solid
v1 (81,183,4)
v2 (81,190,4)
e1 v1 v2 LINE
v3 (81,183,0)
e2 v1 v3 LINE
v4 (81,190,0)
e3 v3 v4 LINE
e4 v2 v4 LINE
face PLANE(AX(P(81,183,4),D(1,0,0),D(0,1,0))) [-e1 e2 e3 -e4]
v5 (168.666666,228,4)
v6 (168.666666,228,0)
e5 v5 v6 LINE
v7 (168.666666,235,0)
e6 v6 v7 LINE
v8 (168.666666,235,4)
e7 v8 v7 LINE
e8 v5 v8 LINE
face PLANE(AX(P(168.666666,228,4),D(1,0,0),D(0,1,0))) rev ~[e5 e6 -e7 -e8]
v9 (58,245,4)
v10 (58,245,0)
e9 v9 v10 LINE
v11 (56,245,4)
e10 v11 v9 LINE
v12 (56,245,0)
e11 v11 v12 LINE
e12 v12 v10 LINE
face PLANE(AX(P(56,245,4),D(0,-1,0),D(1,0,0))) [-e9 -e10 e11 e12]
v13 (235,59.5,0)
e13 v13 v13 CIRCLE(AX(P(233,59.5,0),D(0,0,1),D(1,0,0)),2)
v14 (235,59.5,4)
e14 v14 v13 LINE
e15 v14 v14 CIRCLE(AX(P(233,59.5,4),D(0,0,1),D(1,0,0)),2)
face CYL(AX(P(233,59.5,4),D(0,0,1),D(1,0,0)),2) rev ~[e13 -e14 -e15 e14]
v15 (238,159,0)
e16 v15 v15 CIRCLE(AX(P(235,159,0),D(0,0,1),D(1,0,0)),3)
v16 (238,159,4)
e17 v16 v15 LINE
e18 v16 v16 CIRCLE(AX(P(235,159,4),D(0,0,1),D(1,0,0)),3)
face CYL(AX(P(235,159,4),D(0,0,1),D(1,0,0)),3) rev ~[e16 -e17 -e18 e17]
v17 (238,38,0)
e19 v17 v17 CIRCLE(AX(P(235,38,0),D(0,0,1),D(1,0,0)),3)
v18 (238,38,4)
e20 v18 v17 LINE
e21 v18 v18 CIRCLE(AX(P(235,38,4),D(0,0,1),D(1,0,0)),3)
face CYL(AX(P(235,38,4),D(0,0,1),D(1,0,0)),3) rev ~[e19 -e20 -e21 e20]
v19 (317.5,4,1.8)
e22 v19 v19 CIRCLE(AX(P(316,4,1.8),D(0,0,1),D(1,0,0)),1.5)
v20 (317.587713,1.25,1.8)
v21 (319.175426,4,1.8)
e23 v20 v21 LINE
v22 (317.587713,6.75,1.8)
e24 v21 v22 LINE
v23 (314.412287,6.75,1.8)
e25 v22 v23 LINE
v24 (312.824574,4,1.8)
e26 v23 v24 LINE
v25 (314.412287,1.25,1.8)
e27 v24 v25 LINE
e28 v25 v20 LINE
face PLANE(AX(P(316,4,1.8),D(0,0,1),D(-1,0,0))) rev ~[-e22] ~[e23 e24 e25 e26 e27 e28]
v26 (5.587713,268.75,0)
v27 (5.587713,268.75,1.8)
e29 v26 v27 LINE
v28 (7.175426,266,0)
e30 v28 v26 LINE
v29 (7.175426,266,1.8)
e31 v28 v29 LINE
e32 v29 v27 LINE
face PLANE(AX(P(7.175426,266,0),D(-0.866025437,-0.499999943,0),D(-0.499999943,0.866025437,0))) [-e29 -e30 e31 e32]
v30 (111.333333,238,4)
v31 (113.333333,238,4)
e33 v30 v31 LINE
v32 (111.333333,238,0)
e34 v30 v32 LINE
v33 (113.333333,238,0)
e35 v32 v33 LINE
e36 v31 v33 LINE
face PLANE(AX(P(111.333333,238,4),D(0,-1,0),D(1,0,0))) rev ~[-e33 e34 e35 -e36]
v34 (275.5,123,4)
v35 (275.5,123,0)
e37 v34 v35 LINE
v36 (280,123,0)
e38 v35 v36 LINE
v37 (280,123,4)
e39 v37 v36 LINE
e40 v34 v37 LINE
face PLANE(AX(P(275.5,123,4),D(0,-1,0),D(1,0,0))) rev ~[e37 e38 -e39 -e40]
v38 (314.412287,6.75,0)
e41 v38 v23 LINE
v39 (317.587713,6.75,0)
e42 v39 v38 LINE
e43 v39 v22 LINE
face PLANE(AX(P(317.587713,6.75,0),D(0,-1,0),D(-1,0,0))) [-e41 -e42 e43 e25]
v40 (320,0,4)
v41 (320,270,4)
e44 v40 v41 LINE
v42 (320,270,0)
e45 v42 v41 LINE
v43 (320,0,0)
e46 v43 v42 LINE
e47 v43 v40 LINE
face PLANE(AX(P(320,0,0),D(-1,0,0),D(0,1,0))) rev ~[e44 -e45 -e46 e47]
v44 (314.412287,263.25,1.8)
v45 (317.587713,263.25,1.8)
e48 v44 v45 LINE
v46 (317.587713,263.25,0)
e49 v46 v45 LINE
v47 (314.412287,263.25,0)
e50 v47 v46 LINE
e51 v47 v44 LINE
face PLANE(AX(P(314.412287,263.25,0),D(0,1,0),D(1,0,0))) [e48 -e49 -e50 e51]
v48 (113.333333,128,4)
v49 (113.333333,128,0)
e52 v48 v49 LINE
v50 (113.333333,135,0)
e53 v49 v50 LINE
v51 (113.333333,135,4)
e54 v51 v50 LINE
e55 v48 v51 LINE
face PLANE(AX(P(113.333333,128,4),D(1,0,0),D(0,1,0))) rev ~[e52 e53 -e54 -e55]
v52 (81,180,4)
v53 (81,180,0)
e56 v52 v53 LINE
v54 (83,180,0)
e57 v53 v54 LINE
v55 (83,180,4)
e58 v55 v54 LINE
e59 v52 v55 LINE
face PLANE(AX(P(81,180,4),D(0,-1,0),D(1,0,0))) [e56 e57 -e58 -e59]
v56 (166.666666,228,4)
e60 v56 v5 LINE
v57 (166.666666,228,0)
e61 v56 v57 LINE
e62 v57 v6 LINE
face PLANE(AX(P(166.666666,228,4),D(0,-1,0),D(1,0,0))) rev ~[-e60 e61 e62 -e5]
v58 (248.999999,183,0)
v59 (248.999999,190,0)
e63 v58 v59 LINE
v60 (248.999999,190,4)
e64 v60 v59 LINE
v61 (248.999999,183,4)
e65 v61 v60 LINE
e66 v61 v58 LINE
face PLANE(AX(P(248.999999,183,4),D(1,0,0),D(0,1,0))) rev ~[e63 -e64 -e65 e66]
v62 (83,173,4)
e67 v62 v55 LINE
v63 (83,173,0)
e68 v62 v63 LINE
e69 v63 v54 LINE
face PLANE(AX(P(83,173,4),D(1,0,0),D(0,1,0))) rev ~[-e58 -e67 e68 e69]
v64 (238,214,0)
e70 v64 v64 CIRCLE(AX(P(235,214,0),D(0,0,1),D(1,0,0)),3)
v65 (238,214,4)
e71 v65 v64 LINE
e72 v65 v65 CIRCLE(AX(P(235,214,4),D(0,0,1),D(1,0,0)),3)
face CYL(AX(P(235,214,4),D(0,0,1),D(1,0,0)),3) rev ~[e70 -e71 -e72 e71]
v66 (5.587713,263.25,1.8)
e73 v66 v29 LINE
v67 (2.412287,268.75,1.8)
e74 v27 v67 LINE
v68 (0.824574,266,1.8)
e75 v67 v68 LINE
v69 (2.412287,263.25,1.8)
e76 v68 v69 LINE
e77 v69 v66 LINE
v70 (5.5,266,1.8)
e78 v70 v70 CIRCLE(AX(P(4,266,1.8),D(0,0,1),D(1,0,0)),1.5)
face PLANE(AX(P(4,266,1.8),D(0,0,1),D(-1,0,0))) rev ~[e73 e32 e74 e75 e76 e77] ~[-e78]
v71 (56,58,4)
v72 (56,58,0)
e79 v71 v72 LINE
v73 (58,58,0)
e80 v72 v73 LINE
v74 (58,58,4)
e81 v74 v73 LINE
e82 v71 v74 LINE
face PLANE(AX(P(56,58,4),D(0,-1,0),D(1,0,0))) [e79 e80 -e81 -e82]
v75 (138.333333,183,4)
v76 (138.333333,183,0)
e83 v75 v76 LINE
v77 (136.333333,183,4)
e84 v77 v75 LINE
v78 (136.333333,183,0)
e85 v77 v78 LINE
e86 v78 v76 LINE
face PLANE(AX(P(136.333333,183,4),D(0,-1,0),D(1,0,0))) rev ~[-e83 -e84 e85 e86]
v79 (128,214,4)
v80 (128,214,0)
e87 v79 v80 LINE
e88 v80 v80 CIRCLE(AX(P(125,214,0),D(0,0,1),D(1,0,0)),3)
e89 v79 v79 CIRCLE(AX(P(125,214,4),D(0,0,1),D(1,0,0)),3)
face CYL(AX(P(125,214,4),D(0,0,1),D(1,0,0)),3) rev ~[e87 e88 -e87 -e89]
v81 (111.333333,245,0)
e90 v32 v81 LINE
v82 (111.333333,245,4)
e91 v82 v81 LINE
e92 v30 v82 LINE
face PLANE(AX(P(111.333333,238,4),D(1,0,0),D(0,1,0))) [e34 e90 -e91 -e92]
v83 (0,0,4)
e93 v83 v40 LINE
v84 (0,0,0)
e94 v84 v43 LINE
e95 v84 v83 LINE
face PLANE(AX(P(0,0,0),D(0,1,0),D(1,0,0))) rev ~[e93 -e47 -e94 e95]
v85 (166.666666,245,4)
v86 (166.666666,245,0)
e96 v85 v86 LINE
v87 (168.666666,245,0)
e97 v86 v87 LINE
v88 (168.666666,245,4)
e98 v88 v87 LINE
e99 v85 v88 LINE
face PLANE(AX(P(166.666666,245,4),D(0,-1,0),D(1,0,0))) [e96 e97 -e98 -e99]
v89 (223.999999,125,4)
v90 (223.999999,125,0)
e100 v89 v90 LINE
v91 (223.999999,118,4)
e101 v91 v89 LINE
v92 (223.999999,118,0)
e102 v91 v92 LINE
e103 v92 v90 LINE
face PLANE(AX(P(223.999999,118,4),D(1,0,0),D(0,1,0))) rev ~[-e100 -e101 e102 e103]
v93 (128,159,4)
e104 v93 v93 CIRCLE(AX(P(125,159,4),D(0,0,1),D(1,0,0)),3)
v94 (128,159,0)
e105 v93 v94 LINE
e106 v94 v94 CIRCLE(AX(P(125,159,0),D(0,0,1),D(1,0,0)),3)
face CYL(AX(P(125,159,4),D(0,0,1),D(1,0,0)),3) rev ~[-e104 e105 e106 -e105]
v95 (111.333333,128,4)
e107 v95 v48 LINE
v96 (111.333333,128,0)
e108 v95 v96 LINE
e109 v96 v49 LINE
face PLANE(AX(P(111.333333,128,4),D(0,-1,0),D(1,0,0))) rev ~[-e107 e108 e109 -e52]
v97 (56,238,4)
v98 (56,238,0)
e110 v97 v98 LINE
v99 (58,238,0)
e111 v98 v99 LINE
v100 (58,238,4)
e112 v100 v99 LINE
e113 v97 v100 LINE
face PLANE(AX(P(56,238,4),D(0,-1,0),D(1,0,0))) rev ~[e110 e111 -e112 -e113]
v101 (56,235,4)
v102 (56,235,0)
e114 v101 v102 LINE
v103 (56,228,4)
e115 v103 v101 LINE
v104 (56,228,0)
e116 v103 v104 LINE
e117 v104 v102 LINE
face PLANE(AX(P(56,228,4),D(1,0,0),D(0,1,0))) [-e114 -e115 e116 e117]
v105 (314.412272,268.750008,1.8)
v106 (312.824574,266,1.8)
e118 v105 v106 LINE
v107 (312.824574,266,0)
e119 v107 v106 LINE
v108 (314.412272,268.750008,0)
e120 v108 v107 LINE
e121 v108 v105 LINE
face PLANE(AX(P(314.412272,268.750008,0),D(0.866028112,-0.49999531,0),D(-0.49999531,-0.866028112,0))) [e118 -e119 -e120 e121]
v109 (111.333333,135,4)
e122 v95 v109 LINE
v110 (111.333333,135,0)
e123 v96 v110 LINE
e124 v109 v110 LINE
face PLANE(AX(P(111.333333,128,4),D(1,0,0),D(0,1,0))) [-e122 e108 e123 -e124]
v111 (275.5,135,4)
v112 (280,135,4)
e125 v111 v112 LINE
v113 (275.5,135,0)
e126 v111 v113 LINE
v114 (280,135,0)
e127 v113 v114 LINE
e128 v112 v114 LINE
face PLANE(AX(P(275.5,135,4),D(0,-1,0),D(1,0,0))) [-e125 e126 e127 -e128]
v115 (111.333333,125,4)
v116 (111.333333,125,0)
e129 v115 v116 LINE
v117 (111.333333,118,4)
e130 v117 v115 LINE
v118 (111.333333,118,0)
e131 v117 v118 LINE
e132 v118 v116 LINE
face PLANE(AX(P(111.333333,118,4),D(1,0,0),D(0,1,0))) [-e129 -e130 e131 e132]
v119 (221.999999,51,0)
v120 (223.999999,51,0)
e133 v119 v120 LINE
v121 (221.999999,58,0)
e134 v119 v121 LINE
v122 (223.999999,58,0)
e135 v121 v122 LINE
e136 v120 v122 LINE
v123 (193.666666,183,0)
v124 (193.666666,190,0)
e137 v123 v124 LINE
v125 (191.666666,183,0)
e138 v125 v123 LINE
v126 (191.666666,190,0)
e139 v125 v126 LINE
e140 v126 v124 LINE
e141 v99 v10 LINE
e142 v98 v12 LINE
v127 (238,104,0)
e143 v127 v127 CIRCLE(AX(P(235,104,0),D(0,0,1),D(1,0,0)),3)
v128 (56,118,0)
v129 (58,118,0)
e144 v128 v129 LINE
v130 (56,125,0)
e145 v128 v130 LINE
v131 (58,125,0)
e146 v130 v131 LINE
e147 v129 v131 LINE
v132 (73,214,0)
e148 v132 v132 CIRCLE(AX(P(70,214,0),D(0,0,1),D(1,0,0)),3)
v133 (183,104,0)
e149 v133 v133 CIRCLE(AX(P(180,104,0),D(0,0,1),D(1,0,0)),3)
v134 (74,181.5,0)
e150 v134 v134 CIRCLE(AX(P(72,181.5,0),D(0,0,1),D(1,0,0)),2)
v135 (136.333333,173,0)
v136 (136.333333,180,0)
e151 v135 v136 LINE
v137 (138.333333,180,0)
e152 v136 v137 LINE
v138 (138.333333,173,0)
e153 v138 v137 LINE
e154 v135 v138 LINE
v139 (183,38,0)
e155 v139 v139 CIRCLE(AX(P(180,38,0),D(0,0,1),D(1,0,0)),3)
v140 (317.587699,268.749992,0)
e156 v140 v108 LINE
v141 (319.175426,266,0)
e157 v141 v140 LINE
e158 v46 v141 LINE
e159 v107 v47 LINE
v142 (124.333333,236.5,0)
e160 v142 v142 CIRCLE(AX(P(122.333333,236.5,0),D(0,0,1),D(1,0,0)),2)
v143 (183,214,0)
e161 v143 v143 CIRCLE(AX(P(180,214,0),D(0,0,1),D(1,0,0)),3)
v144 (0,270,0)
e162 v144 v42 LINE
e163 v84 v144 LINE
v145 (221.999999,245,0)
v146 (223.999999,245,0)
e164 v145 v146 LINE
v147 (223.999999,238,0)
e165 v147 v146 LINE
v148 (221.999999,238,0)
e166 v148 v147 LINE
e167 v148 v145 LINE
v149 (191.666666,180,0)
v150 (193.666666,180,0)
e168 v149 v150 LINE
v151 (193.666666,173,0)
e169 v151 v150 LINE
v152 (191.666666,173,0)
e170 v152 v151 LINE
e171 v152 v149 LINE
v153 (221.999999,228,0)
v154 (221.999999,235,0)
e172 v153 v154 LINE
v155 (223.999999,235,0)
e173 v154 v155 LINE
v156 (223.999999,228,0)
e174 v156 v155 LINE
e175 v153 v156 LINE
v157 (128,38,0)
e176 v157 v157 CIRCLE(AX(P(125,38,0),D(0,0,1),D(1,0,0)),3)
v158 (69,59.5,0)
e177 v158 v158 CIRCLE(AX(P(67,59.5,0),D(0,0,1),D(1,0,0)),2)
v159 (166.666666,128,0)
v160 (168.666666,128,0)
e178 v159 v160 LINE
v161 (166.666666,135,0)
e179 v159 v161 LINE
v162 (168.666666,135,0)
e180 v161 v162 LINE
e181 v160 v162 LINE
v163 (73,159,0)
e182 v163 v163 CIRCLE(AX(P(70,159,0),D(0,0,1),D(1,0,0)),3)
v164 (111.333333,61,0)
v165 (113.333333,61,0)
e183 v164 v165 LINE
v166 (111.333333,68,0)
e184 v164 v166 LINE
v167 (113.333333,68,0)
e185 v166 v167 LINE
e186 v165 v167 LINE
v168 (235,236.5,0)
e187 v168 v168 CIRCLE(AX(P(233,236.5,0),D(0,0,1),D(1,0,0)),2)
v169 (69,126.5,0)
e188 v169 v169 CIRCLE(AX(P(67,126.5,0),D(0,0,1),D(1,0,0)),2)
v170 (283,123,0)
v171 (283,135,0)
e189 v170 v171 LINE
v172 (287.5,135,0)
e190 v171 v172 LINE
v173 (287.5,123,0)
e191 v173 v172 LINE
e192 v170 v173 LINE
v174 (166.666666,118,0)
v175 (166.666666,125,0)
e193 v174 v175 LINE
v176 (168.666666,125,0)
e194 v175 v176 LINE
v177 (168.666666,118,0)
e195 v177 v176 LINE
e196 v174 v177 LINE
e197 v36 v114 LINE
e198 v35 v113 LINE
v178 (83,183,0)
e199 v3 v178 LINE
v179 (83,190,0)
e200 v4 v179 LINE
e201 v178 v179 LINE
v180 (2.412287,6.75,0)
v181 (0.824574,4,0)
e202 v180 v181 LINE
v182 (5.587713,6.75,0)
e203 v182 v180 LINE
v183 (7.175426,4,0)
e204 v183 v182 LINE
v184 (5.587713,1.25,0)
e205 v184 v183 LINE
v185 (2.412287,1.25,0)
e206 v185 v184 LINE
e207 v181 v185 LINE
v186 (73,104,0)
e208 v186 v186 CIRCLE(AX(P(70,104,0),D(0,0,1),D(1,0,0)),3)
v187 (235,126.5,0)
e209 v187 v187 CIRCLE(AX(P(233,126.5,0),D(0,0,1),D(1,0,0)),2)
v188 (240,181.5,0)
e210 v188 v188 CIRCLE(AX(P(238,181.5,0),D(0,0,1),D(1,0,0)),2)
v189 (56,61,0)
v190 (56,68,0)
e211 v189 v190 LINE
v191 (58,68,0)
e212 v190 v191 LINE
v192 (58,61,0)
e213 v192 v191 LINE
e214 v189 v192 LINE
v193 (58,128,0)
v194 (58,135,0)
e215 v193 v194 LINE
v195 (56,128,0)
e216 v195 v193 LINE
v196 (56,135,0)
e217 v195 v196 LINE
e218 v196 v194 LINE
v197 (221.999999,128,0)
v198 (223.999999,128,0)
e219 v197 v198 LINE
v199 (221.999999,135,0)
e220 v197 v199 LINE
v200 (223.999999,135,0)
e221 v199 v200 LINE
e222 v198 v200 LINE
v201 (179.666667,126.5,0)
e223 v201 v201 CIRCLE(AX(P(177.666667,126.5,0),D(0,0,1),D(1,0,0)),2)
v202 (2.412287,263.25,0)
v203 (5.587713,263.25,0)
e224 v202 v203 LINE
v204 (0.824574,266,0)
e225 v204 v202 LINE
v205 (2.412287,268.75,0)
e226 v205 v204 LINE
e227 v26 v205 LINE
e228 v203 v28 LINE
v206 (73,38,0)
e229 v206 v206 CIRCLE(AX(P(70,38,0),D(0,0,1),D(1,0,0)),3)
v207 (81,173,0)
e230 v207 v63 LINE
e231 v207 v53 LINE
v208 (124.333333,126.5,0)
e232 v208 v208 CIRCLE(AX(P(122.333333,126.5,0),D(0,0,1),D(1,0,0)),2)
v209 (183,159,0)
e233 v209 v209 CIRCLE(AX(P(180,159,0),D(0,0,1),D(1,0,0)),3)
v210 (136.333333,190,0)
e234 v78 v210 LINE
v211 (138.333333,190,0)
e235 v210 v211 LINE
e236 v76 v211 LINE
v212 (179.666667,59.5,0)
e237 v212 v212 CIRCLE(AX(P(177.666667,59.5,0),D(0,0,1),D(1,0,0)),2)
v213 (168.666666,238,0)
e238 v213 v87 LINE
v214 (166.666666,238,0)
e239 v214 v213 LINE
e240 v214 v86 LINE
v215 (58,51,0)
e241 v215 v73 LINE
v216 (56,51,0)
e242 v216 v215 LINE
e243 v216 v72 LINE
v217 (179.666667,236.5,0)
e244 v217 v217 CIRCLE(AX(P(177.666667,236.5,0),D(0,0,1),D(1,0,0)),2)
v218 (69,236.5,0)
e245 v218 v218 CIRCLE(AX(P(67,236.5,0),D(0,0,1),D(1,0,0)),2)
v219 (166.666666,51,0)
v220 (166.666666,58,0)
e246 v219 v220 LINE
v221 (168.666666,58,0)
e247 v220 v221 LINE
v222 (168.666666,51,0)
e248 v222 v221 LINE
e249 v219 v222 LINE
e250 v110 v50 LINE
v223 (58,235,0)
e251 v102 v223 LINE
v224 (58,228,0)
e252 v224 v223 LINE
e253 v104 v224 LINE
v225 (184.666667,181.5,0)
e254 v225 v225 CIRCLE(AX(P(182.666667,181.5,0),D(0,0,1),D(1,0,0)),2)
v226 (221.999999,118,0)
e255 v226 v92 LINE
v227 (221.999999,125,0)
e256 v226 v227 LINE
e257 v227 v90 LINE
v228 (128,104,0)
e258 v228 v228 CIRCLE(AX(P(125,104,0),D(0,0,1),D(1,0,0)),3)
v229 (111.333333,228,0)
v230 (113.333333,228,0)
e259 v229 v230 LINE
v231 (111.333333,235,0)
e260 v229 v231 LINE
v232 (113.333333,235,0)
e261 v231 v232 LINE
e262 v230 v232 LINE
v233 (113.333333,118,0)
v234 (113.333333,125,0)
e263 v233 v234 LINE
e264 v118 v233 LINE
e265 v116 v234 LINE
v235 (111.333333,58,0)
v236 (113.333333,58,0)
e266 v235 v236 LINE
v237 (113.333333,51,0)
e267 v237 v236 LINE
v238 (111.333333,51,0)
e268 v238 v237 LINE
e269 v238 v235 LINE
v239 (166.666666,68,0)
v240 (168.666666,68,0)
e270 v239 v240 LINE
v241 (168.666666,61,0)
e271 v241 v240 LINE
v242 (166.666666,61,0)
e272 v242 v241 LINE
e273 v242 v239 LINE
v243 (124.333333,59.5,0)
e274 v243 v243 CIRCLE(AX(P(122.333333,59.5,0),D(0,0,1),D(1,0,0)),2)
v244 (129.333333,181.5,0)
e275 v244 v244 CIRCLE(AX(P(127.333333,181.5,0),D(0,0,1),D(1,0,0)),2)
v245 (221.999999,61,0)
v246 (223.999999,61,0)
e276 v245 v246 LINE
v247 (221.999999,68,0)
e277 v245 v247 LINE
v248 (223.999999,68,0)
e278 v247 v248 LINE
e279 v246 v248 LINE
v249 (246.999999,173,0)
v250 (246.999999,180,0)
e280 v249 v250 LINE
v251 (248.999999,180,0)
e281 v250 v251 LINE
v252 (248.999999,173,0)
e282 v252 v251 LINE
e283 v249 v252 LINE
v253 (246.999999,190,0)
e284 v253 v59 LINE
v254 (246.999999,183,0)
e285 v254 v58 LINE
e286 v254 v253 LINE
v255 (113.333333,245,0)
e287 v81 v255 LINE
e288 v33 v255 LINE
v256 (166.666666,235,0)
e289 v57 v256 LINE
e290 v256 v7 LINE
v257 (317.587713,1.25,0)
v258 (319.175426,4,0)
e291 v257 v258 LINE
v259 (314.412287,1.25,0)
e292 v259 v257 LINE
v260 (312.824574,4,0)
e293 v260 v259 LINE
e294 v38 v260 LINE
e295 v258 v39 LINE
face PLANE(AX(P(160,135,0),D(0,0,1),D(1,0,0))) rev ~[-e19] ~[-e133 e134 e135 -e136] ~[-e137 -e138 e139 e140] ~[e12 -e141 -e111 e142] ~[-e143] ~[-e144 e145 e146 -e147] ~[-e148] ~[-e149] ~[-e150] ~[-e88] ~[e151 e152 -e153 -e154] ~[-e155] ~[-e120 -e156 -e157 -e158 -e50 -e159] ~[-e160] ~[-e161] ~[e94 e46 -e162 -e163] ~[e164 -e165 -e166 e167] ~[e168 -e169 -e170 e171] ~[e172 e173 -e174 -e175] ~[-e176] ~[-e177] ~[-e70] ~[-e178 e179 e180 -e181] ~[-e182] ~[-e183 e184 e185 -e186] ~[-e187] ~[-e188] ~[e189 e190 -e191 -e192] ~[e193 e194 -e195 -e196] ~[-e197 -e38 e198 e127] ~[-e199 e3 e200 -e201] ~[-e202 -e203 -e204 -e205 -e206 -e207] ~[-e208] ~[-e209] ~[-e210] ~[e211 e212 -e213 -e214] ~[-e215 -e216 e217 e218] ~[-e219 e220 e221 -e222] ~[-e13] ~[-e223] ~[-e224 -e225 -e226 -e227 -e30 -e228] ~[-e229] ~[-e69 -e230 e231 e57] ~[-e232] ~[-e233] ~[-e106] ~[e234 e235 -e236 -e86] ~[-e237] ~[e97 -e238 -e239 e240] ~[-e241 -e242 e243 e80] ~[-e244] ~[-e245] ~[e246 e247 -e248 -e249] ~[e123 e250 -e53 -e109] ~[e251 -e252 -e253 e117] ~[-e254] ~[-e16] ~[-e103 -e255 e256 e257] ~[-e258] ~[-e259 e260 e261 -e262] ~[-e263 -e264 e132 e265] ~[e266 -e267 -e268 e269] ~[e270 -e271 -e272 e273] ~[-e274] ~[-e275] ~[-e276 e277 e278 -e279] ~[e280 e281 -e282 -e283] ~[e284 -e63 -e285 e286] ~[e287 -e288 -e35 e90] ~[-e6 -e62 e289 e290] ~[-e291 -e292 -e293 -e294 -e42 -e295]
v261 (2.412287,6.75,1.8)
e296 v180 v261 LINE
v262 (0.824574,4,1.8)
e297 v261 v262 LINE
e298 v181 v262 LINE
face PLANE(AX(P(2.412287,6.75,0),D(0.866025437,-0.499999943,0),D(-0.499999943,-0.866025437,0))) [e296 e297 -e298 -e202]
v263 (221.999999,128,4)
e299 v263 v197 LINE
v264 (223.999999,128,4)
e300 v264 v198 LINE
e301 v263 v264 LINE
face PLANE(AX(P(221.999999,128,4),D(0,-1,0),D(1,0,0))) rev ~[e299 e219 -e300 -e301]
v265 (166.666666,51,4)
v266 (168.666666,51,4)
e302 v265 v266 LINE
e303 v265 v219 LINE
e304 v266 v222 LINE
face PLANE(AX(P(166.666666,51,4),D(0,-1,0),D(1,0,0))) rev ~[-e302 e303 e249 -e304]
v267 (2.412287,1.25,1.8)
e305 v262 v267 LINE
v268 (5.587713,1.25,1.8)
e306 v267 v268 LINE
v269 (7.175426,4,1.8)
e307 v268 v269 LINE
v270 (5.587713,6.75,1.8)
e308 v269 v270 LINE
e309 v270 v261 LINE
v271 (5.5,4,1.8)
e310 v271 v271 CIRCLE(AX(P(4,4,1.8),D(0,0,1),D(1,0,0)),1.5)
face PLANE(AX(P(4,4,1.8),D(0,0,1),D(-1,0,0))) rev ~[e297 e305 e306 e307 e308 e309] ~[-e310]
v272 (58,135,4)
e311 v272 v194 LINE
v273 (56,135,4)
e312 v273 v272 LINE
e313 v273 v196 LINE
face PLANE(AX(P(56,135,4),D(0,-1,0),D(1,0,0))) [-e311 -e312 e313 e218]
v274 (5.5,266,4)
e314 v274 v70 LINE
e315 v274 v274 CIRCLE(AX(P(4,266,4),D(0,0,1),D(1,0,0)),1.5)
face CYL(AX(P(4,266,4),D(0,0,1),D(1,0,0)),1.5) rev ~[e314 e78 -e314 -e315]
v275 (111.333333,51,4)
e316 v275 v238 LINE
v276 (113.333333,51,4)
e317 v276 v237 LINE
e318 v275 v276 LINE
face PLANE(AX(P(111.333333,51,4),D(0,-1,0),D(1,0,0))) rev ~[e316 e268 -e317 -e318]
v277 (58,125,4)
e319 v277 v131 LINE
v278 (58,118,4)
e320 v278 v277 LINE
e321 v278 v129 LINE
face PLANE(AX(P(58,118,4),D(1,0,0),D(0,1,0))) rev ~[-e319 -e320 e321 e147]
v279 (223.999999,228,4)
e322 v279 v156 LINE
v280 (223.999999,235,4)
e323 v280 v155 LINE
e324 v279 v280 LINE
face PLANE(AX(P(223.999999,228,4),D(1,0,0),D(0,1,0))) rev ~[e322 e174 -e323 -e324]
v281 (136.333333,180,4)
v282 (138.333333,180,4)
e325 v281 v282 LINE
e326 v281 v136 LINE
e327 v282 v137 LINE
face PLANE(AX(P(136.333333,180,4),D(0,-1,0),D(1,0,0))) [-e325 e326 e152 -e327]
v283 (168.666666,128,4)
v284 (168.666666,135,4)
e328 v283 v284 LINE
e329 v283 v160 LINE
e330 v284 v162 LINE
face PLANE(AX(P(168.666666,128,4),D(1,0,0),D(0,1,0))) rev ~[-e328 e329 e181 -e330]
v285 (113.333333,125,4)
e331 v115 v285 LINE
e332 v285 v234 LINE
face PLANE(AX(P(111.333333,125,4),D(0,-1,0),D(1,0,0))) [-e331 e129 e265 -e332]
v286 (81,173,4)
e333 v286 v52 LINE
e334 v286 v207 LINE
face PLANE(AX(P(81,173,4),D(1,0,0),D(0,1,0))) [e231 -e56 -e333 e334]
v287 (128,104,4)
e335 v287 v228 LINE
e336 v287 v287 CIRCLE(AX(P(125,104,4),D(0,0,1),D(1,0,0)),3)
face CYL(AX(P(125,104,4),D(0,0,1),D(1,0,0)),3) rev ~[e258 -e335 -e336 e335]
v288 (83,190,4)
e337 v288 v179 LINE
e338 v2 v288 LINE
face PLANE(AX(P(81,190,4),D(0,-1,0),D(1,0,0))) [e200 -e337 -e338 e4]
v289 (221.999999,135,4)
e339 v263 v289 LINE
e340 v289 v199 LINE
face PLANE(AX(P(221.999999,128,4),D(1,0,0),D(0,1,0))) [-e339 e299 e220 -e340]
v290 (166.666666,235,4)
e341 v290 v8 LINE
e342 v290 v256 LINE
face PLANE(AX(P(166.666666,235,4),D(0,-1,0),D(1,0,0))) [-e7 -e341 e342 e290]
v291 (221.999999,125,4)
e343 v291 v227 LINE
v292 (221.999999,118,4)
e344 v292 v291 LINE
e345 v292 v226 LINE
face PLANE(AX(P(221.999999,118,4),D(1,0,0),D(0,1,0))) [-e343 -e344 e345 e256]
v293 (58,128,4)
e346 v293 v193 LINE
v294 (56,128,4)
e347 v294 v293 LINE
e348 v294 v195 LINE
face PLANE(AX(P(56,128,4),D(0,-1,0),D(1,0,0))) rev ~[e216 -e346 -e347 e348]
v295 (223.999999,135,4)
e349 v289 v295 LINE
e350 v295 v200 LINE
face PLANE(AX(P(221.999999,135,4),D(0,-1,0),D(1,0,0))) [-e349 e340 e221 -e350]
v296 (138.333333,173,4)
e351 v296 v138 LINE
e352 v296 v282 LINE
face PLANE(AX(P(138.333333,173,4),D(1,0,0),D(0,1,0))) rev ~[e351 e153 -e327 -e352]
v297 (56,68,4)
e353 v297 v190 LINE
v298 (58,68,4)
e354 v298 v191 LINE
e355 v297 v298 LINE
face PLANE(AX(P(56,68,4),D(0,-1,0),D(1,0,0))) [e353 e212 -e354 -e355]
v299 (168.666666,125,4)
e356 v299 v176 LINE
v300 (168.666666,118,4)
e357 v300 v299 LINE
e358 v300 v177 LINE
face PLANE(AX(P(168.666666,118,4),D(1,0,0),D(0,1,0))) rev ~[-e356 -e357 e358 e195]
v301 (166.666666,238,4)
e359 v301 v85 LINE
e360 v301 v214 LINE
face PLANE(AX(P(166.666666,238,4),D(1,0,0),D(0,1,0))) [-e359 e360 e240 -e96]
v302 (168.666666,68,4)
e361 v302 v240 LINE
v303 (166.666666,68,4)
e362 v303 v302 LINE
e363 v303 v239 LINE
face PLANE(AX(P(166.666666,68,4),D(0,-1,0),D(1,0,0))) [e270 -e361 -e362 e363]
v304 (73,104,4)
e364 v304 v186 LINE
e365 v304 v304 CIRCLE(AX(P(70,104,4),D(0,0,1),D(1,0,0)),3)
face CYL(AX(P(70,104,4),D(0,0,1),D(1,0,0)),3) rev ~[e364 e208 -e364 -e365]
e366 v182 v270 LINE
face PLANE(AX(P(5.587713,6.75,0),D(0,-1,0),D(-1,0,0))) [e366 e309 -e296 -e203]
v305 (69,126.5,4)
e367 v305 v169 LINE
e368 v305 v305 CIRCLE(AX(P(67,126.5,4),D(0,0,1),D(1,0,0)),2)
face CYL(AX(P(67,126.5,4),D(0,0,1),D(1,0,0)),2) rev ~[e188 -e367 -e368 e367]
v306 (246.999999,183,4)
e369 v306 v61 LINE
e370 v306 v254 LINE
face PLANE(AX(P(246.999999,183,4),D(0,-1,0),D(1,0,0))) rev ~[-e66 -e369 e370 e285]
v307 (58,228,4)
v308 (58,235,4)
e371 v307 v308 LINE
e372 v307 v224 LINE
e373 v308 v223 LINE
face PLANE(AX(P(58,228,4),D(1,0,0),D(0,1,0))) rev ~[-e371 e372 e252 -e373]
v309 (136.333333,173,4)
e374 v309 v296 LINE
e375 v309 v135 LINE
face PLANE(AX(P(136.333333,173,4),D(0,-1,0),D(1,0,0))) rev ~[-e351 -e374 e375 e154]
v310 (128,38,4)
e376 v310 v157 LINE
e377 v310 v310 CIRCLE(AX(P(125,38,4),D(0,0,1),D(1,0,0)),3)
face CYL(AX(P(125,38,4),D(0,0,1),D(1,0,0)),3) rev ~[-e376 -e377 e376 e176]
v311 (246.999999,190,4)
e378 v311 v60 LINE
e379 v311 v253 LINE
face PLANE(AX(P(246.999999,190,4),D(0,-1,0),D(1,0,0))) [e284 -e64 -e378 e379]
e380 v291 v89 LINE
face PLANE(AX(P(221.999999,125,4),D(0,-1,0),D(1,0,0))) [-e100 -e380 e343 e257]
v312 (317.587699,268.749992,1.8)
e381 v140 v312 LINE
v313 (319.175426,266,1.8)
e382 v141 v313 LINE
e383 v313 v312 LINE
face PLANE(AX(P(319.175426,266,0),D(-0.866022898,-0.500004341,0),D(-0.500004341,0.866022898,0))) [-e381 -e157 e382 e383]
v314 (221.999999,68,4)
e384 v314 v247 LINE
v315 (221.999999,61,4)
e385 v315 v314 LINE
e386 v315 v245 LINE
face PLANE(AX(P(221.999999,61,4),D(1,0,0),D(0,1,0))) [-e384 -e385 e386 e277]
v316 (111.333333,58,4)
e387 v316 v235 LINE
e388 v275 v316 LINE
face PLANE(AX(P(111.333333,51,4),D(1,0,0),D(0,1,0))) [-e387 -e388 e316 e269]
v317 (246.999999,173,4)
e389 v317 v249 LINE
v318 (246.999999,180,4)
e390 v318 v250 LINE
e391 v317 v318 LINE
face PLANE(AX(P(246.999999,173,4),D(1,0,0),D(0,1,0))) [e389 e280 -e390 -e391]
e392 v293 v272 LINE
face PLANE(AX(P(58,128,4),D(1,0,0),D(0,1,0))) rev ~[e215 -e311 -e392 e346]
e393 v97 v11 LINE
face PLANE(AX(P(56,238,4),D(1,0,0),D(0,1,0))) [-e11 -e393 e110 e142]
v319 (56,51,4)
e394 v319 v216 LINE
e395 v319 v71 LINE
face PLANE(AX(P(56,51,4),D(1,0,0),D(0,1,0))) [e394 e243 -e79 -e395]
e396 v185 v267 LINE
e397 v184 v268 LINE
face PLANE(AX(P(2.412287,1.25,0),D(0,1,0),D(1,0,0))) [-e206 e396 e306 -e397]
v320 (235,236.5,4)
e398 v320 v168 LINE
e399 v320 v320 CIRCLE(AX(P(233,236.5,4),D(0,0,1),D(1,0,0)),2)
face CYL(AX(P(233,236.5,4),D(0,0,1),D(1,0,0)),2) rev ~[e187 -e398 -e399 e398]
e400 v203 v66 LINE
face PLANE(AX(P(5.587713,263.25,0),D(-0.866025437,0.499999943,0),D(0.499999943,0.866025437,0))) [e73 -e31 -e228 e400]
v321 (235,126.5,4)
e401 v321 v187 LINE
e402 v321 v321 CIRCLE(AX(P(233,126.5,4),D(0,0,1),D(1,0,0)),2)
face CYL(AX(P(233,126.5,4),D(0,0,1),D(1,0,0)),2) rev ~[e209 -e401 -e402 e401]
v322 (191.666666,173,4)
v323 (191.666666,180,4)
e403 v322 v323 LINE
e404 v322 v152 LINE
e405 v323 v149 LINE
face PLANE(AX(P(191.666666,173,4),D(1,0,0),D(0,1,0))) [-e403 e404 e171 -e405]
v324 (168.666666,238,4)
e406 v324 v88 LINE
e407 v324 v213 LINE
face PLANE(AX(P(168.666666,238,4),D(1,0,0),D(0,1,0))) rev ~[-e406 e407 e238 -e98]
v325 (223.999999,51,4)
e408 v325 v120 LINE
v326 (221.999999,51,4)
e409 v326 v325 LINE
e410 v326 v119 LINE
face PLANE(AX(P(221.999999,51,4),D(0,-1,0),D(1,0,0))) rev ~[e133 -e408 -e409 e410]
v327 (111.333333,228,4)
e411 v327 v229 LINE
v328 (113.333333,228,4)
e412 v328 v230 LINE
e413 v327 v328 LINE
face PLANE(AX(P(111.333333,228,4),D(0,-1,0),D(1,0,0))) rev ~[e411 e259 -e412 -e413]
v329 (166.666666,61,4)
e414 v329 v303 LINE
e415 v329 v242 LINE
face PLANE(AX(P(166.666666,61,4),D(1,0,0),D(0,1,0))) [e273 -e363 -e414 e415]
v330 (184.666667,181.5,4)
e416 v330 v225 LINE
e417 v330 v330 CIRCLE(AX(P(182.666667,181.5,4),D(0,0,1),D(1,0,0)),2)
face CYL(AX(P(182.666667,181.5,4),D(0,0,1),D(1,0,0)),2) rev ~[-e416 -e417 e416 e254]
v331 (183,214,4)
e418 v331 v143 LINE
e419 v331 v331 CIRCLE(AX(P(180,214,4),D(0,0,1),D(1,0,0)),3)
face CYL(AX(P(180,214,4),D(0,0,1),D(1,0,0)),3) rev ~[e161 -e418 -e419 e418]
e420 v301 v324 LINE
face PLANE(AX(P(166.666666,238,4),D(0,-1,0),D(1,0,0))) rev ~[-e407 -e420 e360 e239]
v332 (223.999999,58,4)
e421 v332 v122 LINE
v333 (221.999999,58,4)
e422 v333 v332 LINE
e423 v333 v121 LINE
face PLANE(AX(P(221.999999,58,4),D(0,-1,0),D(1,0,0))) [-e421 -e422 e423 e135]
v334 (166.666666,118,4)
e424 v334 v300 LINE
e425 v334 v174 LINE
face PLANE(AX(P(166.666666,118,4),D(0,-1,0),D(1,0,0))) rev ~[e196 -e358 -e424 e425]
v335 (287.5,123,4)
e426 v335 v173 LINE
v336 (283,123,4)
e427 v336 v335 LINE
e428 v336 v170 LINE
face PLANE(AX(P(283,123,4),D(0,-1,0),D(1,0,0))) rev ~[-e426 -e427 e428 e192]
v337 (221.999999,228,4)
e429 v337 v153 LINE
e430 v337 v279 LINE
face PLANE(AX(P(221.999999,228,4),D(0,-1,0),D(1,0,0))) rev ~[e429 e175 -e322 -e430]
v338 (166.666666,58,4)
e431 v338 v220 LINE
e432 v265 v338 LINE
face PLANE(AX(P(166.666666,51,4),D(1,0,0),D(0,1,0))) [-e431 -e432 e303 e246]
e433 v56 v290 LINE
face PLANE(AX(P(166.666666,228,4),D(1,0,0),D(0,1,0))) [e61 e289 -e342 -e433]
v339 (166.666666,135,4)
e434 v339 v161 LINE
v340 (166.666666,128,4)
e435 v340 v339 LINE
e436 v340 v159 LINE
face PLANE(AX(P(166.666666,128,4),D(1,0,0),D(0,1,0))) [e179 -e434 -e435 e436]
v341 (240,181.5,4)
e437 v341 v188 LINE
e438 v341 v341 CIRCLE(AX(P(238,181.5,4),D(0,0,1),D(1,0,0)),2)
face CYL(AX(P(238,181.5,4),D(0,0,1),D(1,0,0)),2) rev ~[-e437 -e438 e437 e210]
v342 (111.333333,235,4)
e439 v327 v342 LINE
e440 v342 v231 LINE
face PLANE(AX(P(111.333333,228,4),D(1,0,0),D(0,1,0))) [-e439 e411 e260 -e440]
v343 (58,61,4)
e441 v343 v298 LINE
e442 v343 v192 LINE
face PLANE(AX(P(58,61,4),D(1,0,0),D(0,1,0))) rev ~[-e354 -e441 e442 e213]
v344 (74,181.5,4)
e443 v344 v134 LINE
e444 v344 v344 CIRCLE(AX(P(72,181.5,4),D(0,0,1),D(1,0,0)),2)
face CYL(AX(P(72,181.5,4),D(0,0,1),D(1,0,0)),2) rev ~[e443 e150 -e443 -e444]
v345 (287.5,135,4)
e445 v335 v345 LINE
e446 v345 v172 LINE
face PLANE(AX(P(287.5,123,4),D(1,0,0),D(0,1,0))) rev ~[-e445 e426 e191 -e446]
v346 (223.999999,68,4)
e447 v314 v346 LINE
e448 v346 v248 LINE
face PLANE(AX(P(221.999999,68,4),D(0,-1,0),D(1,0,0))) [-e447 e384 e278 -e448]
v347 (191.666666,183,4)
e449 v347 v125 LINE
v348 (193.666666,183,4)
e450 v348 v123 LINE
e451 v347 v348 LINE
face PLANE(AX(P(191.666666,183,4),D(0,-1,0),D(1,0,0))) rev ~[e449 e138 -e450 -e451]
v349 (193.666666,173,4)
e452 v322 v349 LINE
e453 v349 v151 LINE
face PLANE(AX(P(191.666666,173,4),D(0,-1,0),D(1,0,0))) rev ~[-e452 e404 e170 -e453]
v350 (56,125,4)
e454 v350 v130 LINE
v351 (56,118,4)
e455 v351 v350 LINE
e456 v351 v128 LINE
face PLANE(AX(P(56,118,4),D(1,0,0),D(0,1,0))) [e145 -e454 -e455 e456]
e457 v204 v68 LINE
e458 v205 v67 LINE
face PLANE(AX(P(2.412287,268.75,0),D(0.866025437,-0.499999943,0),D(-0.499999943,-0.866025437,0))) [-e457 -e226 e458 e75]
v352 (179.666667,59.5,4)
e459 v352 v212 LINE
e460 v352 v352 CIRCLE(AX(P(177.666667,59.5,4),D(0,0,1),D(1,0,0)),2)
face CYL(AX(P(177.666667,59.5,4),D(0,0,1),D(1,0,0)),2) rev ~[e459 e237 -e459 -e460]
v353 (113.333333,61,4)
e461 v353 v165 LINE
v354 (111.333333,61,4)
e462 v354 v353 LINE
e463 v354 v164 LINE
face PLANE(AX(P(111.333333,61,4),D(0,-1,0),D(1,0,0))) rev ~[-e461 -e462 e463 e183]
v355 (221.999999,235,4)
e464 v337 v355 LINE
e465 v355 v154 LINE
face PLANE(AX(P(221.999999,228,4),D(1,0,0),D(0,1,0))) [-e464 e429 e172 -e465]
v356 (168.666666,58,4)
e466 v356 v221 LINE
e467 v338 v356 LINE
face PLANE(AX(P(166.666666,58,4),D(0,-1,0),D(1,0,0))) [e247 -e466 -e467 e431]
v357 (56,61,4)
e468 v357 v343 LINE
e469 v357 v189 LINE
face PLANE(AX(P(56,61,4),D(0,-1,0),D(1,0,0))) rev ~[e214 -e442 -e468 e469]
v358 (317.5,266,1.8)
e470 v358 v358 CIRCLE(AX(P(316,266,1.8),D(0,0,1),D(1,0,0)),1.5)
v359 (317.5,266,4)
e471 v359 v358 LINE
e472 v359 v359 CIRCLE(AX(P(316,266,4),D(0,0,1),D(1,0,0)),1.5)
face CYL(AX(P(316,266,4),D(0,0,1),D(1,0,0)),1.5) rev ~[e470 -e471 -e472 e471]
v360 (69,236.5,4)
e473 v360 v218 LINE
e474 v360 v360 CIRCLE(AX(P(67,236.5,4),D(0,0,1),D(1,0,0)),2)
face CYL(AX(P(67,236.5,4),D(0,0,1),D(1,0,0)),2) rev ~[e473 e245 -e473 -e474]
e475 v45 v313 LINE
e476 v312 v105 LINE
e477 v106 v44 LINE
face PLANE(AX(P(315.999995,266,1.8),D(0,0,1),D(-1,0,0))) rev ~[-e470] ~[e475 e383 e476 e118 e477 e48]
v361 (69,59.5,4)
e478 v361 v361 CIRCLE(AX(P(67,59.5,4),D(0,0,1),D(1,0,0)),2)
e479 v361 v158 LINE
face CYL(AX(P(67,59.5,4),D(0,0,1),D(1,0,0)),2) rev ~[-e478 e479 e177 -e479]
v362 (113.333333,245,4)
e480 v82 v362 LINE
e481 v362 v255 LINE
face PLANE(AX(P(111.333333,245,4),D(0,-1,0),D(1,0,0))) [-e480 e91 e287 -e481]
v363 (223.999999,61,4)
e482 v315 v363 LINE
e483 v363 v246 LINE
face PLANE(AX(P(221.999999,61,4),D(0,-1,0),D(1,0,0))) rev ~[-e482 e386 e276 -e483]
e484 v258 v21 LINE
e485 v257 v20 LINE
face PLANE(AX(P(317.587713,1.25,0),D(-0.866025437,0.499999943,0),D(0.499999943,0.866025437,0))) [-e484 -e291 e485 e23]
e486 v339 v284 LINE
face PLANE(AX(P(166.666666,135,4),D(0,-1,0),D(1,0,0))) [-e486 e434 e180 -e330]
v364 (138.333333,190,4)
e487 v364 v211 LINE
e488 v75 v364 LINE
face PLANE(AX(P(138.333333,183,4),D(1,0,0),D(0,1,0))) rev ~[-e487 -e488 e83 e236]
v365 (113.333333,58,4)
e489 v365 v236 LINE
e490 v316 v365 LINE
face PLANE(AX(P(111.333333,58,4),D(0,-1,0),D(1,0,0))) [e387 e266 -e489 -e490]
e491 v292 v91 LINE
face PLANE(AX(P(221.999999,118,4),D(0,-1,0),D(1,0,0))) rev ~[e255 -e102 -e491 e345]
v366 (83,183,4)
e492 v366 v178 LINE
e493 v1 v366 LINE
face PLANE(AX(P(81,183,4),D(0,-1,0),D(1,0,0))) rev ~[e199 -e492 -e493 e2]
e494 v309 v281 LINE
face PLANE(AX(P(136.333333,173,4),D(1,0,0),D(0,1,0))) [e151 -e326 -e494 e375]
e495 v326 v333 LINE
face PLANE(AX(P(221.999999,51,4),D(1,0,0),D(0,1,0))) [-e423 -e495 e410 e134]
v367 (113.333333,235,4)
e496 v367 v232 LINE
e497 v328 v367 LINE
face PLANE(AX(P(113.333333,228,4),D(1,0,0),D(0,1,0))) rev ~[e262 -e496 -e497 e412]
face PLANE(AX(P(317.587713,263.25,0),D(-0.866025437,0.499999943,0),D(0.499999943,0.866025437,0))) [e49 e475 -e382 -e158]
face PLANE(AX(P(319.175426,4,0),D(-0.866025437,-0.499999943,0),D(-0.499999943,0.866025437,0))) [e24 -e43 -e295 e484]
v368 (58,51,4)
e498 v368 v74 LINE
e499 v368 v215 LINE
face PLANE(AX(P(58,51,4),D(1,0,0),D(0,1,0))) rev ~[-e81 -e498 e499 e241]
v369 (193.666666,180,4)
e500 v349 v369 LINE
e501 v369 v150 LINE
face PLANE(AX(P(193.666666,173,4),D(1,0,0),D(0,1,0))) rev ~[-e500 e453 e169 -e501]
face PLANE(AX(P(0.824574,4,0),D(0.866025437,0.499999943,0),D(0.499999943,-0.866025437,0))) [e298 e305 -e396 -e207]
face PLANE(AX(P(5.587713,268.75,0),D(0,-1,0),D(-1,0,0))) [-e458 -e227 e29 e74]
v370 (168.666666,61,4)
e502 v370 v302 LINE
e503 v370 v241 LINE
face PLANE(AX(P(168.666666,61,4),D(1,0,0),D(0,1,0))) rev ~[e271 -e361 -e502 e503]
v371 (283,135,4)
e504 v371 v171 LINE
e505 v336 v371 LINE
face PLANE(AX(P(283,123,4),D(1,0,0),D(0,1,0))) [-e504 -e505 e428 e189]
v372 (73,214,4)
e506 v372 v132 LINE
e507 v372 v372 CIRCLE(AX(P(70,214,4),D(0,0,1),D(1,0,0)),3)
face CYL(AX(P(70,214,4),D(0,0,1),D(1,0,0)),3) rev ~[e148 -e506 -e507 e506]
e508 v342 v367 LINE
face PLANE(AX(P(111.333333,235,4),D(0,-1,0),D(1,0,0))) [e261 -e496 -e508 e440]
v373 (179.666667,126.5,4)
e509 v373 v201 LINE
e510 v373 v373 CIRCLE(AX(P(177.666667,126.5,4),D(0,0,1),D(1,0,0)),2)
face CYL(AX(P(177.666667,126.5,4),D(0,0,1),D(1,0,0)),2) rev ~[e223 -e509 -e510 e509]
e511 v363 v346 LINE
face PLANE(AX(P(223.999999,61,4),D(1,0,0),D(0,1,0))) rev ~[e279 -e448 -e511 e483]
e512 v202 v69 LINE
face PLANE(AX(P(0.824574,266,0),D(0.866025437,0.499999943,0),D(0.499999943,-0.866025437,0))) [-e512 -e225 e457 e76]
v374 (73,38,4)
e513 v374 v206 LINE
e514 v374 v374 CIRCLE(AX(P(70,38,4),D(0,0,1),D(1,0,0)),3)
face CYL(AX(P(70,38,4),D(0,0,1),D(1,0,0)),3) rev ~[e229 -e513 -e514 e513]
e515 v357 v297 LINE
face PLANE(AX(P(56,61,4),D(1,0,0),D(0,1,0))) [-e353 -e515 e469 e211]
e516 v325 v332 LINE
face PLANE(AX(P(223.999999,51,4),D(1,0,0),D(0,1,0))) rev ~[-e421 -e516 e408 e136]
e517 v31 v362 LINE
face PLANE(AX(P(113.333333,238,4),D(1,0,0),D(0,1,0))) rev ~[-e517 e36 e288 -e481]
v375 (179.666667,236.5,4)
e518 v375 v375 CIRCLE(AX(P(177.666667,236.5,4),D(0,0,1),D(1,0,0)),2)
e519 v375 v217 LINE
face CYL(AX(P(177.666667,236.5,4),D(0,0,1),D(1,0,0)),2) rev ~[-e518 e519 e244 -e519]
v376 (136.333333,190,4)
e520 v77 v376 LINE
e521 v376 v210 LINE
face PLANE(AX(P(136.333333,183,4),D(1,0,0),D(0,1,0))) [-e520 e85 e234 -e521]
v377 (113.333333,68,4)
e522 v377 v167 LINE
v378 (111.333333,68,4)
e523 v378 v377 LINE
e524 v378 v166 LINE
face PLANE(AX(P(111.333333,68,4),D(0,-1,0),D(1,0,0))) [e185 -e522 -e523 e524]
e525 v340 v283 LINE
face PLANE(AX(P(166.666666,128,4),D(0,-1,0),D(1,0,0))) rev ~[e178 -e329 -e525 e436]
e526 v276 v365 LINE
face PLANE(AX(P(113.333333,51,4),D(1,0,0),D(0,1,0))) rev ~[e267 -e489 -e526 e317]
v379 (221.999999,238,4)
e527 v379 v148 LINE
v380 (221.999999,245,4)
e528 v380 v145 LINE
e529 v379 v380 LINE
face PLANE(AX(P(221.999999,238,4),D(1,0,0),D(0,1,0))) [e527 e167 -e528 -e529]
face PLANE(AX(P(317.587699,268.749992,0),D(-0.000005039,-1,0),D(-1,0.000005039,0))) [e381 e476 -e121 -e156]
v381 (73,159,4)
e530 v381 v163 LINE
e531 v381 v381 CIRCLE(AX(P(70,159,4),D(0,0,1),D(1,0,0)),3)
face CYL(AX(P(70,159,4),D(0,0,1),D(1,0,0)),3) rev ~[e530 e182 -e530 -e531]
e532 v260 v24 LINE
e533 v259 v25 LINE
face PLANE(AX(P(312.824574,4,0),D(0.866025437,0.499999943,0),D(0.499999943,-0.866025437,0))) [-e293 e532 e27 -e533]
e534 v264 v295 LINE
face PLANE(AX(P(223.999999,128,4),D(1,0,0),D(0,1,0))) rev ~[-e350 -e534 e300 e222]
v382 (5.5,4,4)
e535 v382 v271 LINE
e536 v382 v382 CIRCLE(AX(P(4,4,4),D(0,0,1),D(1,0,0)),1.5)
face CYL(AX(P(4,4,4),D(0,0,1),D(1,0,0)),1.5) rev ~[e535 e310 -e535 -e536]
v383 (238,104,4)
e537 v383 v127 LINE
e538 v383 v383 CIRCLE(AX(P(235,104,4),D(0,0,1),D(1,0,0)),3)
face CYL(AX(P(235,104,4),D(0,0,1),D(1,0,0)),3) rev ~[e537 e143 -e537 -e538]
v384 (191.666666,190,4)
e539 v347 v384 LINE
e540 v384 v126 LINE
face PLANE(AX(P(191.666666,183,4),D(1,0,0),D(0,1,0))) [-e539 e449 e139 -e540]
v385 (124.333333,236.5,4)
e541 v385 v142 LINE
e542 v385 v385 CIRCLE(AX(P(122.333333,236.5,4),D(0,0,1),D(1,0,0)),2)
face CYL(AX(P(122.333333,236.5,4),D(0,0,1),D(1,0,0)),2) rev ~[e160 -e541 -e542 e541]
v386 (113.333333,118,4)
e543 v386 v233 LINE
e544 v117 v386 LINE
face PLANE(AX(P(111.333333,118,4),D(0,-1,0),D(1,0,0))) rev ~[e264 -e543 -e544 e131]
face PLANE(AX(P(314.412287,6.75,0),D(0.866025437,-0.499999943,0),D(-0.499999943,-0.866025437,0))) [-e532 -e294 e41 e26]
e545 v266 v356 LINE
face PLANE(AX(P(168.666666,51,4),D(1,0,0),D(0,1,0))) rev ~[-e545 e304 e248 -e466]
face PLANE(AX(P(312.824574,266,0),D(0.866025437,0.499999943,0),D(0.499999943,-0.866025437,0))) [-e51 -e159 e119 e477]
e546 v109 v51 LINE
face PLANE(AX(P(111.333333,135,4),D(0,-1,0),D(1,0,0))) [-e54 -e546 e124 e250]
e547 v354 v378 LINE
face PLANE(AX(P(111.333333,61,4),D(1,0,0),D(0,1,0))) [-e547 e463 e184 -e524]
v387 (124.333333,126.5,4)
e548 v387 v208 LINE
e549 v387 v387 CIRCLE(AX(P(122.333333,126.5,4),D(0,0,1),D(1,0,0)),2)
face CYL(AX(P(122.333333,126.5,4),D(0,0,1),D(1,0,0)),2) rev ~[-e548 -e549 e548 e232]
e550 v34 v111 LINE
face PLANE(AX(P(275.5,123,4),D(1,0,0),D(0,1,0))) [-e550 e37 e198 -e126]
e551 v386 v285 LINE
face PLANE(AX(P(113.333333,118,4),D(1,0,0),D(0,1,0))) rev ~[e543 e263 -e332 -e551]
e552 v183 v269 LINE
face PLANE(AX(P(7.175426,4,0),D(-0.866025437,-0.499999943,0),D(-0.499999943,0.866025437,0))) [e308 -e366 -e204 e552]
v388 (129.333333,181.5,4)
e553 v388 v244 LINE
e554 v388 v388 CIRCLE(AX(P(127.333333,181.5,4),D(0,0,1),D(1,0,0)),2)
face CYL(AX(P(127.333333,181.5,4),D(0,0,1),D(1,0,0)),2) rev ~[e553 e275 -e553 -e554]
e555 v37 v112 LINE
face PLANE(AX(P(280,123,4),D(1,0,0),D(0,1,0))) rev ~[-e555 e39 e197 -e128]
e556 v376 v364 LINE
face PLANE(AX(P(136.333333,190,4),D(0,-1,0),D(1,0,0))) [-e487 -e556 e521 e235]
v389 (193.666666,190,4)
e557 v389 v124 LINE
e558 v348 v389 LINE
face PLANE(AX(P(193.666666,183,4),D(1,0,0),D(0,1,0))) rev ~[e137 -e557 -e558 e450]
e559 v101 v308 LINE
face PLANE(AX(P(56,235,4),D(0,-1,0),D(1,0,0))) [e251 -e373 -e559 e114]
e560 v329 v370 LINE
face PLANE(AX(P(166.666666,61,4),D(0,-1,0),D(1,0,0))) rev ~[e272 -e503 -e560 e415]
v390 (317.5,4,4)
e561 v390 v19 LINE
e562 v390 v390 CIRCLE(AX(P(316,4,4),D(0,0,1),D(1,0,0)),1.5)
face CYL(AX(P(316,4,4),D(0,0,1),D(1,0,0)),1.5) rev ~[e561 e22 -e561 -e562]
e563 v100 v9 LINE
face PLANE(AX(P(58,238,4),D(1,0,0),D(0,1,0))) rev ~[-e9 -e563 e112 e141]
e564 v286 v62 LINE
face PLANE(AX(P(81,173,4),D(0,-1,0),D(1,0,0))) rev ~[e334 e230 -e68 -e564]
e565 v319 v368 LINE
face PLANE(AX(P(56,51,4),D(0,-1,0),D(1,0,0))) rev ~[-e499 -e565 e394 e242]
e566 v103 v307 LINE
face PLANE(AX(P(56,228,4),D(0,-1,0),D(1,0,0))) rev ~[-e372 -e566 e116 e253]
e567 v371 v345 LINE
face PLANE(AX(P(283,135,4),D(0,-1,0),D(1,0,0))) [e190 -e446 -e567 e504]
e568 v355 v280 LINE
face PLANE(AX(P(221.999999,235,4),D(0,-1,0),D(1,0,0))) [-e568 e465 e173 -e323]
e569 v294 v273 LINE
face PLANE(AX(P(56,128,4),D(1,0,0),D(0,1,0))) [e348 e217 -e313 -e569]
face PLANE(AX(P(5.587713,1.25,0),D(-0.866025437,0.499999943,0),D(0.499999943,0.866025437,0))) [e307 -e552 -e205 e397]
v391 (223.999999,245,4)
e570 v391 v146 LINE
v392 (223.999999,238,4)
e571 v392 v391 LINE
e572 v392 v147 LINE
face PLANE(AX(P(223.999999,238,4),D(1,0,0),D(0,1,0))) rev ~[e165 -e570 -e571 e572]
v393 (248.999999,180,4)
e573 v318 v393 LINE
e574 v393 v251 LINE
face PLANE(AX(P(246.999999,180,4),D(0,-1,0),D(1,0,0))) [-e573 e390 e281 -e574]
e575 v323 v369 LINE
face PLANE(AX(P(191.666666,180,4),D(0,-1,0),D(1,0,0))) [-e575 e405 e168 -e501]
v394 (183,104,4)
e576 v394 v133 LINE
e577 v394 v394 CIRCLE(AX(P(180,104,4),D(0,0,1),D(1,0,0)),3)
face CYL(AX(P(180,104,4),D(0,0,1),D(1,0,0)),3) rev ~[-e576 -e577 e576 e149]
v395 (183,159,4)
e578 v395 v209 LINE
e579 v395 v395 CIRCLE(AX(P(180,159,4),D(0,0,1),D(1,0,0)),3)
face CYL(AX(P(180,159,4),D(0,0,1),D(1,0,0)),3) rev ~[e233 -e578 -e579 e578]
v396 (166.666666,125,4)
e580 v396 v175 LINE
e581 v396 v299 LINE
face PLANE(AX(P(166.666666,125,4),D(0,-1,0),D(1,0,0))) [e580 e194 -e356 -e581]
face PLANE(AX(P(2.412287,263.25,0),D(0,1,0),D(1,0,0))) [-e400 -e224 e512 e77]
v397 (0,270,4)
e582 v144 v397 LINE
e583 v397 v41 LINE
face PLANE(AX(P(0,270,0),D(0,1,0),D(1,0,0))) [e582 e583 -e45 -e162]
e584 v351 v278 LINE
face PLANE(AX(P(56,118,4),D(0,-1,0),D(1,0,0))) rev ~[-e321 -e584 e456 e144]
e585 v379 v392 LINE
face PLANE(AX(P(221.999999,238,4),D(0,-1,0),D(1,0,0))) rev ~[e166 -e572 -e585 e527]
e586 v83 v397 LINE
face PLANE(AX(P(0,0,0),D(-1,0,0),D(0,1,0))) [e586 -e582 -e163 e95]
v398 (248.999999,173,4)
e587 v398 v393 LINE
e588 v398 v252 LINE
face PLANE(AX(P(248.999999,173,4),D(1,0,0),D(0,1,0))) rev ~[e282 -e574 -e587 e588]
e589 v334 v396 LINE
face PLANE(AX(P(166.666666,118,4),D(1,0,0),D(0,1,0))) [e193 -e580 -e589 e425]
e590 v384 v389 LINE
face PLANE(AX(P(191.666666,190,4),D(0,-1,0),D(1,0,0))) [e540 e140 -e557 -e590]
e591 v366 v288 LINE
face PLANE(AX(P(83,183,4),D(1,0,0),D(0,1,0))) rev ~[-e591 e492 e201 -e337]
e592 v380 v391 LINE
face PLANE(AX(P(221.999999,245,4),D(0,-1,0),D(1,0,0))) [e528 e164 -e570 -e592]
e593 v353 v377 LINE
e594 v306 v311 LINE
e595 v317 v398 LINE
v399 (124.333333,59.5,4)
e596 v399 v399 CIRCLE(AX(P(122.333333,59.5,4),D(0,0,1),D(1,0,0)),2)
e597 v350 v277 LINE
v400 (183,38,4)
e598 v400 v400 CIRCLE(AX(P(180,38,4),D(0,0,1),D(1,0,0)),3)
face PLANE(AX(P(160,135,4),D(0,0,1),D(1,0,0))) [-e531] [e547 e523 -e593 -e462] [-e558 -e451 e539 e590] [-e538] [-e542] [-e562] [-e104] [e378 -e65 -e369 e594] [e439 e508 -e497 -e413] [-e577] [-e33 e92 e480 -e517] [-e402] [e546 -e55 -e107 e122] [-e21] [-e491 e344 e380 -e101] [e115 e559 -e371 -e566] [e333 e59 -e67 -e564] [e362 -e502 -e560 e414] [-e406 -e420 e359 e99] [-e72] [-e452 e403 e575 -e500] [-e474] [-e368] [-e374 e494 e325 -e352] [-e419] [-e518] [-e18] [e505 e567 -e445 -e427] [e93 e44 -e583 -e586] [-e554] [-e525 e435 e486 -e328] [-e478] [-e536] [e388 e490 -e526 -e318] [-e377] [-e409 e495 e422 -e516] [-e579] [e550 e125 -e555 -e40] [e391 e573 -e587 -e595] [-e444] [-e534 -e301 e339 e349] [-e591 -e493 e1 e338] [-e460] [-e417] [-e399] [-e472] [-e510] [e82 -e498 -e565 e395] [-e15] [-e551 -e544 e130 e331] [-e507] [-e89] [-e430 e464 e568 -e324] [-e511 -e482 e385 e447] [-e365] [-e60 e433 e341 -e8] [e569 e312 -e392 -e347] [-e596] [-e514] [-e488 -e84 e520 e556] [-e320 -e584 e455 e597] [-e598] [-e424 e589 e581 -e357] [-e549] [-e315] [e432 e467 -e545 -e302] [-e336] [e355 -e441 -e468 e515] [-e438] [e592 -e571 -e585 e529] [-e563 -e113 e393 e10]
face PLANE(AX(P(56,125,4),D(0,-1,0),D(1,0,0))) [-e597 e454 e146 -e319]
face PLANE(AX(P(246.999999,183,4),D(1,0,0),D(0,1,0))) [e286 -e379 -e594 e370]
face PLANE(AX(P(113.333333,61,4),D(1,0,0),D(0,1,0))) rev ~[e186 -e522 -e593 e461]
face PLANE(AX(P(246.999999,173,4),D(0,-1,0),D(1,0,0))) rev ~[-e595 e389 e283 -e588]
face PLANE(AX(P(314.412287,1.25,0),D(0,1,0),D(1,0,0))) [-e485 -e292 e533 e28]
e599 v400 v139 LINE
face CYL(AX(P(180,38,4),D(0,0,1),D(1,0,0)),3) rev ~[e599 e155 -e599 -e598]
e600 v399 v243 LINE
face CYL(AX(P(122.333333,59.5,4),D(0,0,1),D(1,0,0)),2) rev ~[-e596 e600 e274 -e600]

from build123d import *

# Parameters (mm, degrees)
BOX_W                  = 320
BOX_H                  = 270
BOX_DEPTH              = 4
SKETCH_W               = 2
SKETCH_H               = 7
POCKET_DEPTH           = 5
LINEARPATTERN_COUNT    = 4
LINEARPATTERN_PITCH    = 55.333333
SKETCH001_W            = 2
SKETCH001_H            = 7
POCKET001_DEPTH        = 5
LINEARPATTERN001_COUNT = 4
LINEARPATTERN001_PITCH = 55.333333
SKETCH002_W            = 2
SKETCH002_H            = 7
POCKET002_DEPTH        = 5
LINEARPATTERN002_COUNT = 4
LINEARPATTERN002_PITCH = 55.333333
SKETCH003_W            = 2
SKETCH003_H            = 7
POCKET003_DEPTH        = 5
LINEARPATTERN003_COUNT = 4
LINEARPATTERN003_PITCH = 55.333333
SKETCH004_R            = 3
POCKET004_DEPTH        = 5
LINEARPATTERN004_COUNT = 3
LINEARPATTERN004_PITCH = 55
SKETCH005_R            = 3
POCKET005_DEPTH        = 5
SKETCH006_W            = 4.5
SKETCH006_H            = 12
POCKET006_DEPTH        = 5
SKETCH007_R            = 2
POCKET007_DEPTH        = 5
SKETCH008_R            = 1.5
POCKET008_DEPTH        = 5
POCKET009_DEPTH        = 1.8


with BuildPart() as part:
    # Box → Box (new body)
    with BuildSketch(Plane.XY):
        with Locations((160, 135)):
            Rectangle(BOX_W, BOX_H)
    extrude(amount=BOX_DEPTH)

    # Sketch → Pocket (cut)
    with BuildSketch(Plane.XY.offset(4)):
        with Locations((57, 241.5)):
            Rectangle(SKETCH_W, SKETCH_H)
        with Locations((57, 231.5)):
            Rectangle(SKETCH_W, SKETCH_H)
    pocket = extrude(amount=-POCKET_DEPTH, mode=Mode.SUBTRACT)

    # LinearPattern: Pocket ×4
    with Locations(*[(i * LINEARPATTERN_PITCH, 0, 0) for i in range(1, LINEARPATTERN_COUNT)]):
        add(pocket, mode=Mode.SUBTRACT)

    # Sketch001 → Pocket001 (cut)
    with BuildSketch(Plane.XY.offset(4)):
        with Locations((57, 131.5)):
            Rectangle(SKETCH001_W, SKETCH001_H)
        with Locations((57, 121.5)):
            Rectangle(SKETCH001_W, SKETCH001_H)
    pocket001 = extrude(amount=-POCKET001_DEPTH, mode=Mode.SUBTRACT)

    # LinearPattern001: Pocket001 ×4
    with Locations(*[(i * LINEARPATTERN001_PITCH, 0, 0) for i in range(1, LINEARPATTERN001_COUNT)]):
        add(pocket001, mode=Mode.SUBTRACT)

    # Sketch002 → Pocket002 (cut)
    with BuildSketch(Plane.XY.offset(4)):
        with Locations((57, 64.5)):
            Rectangle(SKETCH002_W, SKETCH002_H)
        with Locations((57, 54.5)):
            Rectangle(SKETCH002_W, SKETCH002_H)
    pocket002 = extrude(amount=-POCKET002_DEPTH, mode=Mode.SUBTRACT)

    # LinearPattern002: Pocket002 ×4
    with Locations(*[(i * LINEARPATTERN002_PITCH, 0, 0) for i in range(1, LINEARPATTERN002_COUNT)]):
        add(pocket002, mode=Mode.SUBTRACT)

    # Sketch003 → Pocket003 (cut)
    with BuildSketch(Plane.XY.offset(4)):
        with Locations((82, 186.5)):
            Rectangle(SKETCH003_W, SKETCH003_H)
        with Locations((82, 176.5)):
            Rectangle(SKETCH003_W, SKETCH003_H)
    pocket003 = extrude(amount=-POCKET003_DEPTH, mode=Mode.SUBTRACT)

    # LinearPattern003: Pocket003 ×4
    with Locations(*[(i * LINEARPATTERN003_PITCH, 0, 0) for i in range(1, LINEARPATTERN003_COUNT)]):
        add(pocket003, mode=Mode.SUBTRACT)

    # Sketch004 → Pocket004 (cut)
    with BuildSketch(Plane.XY.offset(4)):
        with Locations((70, 214)):
            Circle(SKETCH004_R)
        with Locations((125, 214)):
            Circle(SKETCH004_R)
        with Locations((180, 214)):
            Circle(SKETCH004_R)
        with Locations((235, 214)):
            Circle(SKETCH004_R)
    pocket004 = extrude(amount=-POCKET004_DEPTH, mode=Mode.SUBTRACT)

    # LinearPattern004: Pocket004 ×3
    with Locations(*[(0, -i * LINEARPATTERN004_PITCH, 0) for i in range(1, LINEARPATTERN004_COUNT)]):
        add(pocket004, mode=Mode.SUBTRACT)

    # Sketch005 → Pocket005 (cut)
    with BuildSketch(Plane.XY.offset(4)):
        with Locations((70, 38)):
            Circle(SKETCH005_R)
        with Locations((125, 38)):
            Circle(SKETCH005_R)
        with Locations((180, 38)):
            Circle(SKETCH005_R)
        with Locations((235, 38)):
            Circle(SKETCH005_R)
    extrude(amount=-POCKET005_DEPTH, mode=Mode.SUBTRACT)

    # Sketch006 → Pocket006 (cut)
    with BuildSketch(Plane.XY.offset(4)):
        with Locations((277.75, 129)):
            Rectangle(SKETCH006_W, SKETCH006_H)
        with Locations((285.25, 129)):
            Rectangle(SKETCH006_W, SKETCH006_H)
    extrude(amount=-POCKET006_DEPTH, mode=Mode.SUBTRACT)

    # Sketch007 → Pocket007 (cut)
    with BuildSketch(Plane.XY.offset(4)):
        with Locations((67, 236.5)):
            Circle(SKETCH007_R)
        with Locations((122.333333, 236.5)):
            Circle(SKETCH007_R)
        with Locations((177.666667, 236.5)):
            Circle(SKETCH007_R)
        with Locations((233, 236.5)):
            Circle(SKETCH007_R)
        with Locations((72, 181.5)):
            Circle(SKETCH007_R)
        with Locations((127.333333, 181.5)):
            Circle(SKETCH007_R)
        with Locations((182.666667, 181.5)):
            Circle(SKETCH007_R)
        with Locations((238, 181.5)):
            Circle(SKETCH007_R)
        with Locations((67, 126.5)):
            Circle(SKETCH007_R)
        with Locations((122.333333, 126.5)):
            Circle(SKETCH007_R)
        with Locations((177.666667, 126.5)):
            Circle(SKETCH007_R)
        with Locations((233, 126.5)):
            Circle(SKETCH007_R)
        with Locations((67, 59.5)):
            Circle(SKETCH007_R)
        with Locations((122.333333, 59.5)):
            Circle(SKETCH007_R)
        with Locations((177.666667, 59.5)):
            Circle(SKETCH007_R)
        with Locations((233, 59.5)):
            Circle(SKETCH007_R)
    extrude(amount=-POCKET007_DEPTH, mode=Mode.SUBTRACT)

    # Sketch008 → Pocket008 (cut)
    with BuildSketch(Plane.XY.offset(4)):
        with Locations((4, 4)):
            Circle(SKETCH008_R)
        with Locations((4, 266)):
            Circle(SKETCH008_R)
        with Locations((316, 266)):
            Circle(SKETCH008_R)
        with Locations((316, 4)):
            Circle(SKETCH008_R)
    extrude(amount=-POCKET008_DEPTH, mode=Mode.SUBTRACT)

    # Sketch009 → Pocket009 (cut)
    with BuildSketch(Plane(origin=(0, 0, 0), x_dir=(1, 0, 0), z_dir=(0, 0, -1))):
        Polygon((2.412287, -263.25), (5.587713, -263.25), (7.175426, -266), (5.587713, -268.75), (2.412287, -268.75), (0.824574, -266), align=None)
        Polygon((2.412287, -1.25), (5.587713, -1.25), (7.175426, -4), (5.587713, -6.75), (2.412287, -6.75), (0.824574, -4), align=None)
        Polygon((314.412287, -1.25), (317.587713, -1.25), (319.175426, -4), (317.587713, -6.75), (314.412287, -6.75), (312.824574, -4), align=None)
        Polygon((314.412287, -263.25), (317.587713, -263.25), (319.175426, -266), (317.587699, -268.749992), (314.412272, -268.750008), (312.824574, -266), align=None)
    extrude(amount=-POCKET009_DEPTH, mode=Mode.SUBTRACT)


solid = part.part
